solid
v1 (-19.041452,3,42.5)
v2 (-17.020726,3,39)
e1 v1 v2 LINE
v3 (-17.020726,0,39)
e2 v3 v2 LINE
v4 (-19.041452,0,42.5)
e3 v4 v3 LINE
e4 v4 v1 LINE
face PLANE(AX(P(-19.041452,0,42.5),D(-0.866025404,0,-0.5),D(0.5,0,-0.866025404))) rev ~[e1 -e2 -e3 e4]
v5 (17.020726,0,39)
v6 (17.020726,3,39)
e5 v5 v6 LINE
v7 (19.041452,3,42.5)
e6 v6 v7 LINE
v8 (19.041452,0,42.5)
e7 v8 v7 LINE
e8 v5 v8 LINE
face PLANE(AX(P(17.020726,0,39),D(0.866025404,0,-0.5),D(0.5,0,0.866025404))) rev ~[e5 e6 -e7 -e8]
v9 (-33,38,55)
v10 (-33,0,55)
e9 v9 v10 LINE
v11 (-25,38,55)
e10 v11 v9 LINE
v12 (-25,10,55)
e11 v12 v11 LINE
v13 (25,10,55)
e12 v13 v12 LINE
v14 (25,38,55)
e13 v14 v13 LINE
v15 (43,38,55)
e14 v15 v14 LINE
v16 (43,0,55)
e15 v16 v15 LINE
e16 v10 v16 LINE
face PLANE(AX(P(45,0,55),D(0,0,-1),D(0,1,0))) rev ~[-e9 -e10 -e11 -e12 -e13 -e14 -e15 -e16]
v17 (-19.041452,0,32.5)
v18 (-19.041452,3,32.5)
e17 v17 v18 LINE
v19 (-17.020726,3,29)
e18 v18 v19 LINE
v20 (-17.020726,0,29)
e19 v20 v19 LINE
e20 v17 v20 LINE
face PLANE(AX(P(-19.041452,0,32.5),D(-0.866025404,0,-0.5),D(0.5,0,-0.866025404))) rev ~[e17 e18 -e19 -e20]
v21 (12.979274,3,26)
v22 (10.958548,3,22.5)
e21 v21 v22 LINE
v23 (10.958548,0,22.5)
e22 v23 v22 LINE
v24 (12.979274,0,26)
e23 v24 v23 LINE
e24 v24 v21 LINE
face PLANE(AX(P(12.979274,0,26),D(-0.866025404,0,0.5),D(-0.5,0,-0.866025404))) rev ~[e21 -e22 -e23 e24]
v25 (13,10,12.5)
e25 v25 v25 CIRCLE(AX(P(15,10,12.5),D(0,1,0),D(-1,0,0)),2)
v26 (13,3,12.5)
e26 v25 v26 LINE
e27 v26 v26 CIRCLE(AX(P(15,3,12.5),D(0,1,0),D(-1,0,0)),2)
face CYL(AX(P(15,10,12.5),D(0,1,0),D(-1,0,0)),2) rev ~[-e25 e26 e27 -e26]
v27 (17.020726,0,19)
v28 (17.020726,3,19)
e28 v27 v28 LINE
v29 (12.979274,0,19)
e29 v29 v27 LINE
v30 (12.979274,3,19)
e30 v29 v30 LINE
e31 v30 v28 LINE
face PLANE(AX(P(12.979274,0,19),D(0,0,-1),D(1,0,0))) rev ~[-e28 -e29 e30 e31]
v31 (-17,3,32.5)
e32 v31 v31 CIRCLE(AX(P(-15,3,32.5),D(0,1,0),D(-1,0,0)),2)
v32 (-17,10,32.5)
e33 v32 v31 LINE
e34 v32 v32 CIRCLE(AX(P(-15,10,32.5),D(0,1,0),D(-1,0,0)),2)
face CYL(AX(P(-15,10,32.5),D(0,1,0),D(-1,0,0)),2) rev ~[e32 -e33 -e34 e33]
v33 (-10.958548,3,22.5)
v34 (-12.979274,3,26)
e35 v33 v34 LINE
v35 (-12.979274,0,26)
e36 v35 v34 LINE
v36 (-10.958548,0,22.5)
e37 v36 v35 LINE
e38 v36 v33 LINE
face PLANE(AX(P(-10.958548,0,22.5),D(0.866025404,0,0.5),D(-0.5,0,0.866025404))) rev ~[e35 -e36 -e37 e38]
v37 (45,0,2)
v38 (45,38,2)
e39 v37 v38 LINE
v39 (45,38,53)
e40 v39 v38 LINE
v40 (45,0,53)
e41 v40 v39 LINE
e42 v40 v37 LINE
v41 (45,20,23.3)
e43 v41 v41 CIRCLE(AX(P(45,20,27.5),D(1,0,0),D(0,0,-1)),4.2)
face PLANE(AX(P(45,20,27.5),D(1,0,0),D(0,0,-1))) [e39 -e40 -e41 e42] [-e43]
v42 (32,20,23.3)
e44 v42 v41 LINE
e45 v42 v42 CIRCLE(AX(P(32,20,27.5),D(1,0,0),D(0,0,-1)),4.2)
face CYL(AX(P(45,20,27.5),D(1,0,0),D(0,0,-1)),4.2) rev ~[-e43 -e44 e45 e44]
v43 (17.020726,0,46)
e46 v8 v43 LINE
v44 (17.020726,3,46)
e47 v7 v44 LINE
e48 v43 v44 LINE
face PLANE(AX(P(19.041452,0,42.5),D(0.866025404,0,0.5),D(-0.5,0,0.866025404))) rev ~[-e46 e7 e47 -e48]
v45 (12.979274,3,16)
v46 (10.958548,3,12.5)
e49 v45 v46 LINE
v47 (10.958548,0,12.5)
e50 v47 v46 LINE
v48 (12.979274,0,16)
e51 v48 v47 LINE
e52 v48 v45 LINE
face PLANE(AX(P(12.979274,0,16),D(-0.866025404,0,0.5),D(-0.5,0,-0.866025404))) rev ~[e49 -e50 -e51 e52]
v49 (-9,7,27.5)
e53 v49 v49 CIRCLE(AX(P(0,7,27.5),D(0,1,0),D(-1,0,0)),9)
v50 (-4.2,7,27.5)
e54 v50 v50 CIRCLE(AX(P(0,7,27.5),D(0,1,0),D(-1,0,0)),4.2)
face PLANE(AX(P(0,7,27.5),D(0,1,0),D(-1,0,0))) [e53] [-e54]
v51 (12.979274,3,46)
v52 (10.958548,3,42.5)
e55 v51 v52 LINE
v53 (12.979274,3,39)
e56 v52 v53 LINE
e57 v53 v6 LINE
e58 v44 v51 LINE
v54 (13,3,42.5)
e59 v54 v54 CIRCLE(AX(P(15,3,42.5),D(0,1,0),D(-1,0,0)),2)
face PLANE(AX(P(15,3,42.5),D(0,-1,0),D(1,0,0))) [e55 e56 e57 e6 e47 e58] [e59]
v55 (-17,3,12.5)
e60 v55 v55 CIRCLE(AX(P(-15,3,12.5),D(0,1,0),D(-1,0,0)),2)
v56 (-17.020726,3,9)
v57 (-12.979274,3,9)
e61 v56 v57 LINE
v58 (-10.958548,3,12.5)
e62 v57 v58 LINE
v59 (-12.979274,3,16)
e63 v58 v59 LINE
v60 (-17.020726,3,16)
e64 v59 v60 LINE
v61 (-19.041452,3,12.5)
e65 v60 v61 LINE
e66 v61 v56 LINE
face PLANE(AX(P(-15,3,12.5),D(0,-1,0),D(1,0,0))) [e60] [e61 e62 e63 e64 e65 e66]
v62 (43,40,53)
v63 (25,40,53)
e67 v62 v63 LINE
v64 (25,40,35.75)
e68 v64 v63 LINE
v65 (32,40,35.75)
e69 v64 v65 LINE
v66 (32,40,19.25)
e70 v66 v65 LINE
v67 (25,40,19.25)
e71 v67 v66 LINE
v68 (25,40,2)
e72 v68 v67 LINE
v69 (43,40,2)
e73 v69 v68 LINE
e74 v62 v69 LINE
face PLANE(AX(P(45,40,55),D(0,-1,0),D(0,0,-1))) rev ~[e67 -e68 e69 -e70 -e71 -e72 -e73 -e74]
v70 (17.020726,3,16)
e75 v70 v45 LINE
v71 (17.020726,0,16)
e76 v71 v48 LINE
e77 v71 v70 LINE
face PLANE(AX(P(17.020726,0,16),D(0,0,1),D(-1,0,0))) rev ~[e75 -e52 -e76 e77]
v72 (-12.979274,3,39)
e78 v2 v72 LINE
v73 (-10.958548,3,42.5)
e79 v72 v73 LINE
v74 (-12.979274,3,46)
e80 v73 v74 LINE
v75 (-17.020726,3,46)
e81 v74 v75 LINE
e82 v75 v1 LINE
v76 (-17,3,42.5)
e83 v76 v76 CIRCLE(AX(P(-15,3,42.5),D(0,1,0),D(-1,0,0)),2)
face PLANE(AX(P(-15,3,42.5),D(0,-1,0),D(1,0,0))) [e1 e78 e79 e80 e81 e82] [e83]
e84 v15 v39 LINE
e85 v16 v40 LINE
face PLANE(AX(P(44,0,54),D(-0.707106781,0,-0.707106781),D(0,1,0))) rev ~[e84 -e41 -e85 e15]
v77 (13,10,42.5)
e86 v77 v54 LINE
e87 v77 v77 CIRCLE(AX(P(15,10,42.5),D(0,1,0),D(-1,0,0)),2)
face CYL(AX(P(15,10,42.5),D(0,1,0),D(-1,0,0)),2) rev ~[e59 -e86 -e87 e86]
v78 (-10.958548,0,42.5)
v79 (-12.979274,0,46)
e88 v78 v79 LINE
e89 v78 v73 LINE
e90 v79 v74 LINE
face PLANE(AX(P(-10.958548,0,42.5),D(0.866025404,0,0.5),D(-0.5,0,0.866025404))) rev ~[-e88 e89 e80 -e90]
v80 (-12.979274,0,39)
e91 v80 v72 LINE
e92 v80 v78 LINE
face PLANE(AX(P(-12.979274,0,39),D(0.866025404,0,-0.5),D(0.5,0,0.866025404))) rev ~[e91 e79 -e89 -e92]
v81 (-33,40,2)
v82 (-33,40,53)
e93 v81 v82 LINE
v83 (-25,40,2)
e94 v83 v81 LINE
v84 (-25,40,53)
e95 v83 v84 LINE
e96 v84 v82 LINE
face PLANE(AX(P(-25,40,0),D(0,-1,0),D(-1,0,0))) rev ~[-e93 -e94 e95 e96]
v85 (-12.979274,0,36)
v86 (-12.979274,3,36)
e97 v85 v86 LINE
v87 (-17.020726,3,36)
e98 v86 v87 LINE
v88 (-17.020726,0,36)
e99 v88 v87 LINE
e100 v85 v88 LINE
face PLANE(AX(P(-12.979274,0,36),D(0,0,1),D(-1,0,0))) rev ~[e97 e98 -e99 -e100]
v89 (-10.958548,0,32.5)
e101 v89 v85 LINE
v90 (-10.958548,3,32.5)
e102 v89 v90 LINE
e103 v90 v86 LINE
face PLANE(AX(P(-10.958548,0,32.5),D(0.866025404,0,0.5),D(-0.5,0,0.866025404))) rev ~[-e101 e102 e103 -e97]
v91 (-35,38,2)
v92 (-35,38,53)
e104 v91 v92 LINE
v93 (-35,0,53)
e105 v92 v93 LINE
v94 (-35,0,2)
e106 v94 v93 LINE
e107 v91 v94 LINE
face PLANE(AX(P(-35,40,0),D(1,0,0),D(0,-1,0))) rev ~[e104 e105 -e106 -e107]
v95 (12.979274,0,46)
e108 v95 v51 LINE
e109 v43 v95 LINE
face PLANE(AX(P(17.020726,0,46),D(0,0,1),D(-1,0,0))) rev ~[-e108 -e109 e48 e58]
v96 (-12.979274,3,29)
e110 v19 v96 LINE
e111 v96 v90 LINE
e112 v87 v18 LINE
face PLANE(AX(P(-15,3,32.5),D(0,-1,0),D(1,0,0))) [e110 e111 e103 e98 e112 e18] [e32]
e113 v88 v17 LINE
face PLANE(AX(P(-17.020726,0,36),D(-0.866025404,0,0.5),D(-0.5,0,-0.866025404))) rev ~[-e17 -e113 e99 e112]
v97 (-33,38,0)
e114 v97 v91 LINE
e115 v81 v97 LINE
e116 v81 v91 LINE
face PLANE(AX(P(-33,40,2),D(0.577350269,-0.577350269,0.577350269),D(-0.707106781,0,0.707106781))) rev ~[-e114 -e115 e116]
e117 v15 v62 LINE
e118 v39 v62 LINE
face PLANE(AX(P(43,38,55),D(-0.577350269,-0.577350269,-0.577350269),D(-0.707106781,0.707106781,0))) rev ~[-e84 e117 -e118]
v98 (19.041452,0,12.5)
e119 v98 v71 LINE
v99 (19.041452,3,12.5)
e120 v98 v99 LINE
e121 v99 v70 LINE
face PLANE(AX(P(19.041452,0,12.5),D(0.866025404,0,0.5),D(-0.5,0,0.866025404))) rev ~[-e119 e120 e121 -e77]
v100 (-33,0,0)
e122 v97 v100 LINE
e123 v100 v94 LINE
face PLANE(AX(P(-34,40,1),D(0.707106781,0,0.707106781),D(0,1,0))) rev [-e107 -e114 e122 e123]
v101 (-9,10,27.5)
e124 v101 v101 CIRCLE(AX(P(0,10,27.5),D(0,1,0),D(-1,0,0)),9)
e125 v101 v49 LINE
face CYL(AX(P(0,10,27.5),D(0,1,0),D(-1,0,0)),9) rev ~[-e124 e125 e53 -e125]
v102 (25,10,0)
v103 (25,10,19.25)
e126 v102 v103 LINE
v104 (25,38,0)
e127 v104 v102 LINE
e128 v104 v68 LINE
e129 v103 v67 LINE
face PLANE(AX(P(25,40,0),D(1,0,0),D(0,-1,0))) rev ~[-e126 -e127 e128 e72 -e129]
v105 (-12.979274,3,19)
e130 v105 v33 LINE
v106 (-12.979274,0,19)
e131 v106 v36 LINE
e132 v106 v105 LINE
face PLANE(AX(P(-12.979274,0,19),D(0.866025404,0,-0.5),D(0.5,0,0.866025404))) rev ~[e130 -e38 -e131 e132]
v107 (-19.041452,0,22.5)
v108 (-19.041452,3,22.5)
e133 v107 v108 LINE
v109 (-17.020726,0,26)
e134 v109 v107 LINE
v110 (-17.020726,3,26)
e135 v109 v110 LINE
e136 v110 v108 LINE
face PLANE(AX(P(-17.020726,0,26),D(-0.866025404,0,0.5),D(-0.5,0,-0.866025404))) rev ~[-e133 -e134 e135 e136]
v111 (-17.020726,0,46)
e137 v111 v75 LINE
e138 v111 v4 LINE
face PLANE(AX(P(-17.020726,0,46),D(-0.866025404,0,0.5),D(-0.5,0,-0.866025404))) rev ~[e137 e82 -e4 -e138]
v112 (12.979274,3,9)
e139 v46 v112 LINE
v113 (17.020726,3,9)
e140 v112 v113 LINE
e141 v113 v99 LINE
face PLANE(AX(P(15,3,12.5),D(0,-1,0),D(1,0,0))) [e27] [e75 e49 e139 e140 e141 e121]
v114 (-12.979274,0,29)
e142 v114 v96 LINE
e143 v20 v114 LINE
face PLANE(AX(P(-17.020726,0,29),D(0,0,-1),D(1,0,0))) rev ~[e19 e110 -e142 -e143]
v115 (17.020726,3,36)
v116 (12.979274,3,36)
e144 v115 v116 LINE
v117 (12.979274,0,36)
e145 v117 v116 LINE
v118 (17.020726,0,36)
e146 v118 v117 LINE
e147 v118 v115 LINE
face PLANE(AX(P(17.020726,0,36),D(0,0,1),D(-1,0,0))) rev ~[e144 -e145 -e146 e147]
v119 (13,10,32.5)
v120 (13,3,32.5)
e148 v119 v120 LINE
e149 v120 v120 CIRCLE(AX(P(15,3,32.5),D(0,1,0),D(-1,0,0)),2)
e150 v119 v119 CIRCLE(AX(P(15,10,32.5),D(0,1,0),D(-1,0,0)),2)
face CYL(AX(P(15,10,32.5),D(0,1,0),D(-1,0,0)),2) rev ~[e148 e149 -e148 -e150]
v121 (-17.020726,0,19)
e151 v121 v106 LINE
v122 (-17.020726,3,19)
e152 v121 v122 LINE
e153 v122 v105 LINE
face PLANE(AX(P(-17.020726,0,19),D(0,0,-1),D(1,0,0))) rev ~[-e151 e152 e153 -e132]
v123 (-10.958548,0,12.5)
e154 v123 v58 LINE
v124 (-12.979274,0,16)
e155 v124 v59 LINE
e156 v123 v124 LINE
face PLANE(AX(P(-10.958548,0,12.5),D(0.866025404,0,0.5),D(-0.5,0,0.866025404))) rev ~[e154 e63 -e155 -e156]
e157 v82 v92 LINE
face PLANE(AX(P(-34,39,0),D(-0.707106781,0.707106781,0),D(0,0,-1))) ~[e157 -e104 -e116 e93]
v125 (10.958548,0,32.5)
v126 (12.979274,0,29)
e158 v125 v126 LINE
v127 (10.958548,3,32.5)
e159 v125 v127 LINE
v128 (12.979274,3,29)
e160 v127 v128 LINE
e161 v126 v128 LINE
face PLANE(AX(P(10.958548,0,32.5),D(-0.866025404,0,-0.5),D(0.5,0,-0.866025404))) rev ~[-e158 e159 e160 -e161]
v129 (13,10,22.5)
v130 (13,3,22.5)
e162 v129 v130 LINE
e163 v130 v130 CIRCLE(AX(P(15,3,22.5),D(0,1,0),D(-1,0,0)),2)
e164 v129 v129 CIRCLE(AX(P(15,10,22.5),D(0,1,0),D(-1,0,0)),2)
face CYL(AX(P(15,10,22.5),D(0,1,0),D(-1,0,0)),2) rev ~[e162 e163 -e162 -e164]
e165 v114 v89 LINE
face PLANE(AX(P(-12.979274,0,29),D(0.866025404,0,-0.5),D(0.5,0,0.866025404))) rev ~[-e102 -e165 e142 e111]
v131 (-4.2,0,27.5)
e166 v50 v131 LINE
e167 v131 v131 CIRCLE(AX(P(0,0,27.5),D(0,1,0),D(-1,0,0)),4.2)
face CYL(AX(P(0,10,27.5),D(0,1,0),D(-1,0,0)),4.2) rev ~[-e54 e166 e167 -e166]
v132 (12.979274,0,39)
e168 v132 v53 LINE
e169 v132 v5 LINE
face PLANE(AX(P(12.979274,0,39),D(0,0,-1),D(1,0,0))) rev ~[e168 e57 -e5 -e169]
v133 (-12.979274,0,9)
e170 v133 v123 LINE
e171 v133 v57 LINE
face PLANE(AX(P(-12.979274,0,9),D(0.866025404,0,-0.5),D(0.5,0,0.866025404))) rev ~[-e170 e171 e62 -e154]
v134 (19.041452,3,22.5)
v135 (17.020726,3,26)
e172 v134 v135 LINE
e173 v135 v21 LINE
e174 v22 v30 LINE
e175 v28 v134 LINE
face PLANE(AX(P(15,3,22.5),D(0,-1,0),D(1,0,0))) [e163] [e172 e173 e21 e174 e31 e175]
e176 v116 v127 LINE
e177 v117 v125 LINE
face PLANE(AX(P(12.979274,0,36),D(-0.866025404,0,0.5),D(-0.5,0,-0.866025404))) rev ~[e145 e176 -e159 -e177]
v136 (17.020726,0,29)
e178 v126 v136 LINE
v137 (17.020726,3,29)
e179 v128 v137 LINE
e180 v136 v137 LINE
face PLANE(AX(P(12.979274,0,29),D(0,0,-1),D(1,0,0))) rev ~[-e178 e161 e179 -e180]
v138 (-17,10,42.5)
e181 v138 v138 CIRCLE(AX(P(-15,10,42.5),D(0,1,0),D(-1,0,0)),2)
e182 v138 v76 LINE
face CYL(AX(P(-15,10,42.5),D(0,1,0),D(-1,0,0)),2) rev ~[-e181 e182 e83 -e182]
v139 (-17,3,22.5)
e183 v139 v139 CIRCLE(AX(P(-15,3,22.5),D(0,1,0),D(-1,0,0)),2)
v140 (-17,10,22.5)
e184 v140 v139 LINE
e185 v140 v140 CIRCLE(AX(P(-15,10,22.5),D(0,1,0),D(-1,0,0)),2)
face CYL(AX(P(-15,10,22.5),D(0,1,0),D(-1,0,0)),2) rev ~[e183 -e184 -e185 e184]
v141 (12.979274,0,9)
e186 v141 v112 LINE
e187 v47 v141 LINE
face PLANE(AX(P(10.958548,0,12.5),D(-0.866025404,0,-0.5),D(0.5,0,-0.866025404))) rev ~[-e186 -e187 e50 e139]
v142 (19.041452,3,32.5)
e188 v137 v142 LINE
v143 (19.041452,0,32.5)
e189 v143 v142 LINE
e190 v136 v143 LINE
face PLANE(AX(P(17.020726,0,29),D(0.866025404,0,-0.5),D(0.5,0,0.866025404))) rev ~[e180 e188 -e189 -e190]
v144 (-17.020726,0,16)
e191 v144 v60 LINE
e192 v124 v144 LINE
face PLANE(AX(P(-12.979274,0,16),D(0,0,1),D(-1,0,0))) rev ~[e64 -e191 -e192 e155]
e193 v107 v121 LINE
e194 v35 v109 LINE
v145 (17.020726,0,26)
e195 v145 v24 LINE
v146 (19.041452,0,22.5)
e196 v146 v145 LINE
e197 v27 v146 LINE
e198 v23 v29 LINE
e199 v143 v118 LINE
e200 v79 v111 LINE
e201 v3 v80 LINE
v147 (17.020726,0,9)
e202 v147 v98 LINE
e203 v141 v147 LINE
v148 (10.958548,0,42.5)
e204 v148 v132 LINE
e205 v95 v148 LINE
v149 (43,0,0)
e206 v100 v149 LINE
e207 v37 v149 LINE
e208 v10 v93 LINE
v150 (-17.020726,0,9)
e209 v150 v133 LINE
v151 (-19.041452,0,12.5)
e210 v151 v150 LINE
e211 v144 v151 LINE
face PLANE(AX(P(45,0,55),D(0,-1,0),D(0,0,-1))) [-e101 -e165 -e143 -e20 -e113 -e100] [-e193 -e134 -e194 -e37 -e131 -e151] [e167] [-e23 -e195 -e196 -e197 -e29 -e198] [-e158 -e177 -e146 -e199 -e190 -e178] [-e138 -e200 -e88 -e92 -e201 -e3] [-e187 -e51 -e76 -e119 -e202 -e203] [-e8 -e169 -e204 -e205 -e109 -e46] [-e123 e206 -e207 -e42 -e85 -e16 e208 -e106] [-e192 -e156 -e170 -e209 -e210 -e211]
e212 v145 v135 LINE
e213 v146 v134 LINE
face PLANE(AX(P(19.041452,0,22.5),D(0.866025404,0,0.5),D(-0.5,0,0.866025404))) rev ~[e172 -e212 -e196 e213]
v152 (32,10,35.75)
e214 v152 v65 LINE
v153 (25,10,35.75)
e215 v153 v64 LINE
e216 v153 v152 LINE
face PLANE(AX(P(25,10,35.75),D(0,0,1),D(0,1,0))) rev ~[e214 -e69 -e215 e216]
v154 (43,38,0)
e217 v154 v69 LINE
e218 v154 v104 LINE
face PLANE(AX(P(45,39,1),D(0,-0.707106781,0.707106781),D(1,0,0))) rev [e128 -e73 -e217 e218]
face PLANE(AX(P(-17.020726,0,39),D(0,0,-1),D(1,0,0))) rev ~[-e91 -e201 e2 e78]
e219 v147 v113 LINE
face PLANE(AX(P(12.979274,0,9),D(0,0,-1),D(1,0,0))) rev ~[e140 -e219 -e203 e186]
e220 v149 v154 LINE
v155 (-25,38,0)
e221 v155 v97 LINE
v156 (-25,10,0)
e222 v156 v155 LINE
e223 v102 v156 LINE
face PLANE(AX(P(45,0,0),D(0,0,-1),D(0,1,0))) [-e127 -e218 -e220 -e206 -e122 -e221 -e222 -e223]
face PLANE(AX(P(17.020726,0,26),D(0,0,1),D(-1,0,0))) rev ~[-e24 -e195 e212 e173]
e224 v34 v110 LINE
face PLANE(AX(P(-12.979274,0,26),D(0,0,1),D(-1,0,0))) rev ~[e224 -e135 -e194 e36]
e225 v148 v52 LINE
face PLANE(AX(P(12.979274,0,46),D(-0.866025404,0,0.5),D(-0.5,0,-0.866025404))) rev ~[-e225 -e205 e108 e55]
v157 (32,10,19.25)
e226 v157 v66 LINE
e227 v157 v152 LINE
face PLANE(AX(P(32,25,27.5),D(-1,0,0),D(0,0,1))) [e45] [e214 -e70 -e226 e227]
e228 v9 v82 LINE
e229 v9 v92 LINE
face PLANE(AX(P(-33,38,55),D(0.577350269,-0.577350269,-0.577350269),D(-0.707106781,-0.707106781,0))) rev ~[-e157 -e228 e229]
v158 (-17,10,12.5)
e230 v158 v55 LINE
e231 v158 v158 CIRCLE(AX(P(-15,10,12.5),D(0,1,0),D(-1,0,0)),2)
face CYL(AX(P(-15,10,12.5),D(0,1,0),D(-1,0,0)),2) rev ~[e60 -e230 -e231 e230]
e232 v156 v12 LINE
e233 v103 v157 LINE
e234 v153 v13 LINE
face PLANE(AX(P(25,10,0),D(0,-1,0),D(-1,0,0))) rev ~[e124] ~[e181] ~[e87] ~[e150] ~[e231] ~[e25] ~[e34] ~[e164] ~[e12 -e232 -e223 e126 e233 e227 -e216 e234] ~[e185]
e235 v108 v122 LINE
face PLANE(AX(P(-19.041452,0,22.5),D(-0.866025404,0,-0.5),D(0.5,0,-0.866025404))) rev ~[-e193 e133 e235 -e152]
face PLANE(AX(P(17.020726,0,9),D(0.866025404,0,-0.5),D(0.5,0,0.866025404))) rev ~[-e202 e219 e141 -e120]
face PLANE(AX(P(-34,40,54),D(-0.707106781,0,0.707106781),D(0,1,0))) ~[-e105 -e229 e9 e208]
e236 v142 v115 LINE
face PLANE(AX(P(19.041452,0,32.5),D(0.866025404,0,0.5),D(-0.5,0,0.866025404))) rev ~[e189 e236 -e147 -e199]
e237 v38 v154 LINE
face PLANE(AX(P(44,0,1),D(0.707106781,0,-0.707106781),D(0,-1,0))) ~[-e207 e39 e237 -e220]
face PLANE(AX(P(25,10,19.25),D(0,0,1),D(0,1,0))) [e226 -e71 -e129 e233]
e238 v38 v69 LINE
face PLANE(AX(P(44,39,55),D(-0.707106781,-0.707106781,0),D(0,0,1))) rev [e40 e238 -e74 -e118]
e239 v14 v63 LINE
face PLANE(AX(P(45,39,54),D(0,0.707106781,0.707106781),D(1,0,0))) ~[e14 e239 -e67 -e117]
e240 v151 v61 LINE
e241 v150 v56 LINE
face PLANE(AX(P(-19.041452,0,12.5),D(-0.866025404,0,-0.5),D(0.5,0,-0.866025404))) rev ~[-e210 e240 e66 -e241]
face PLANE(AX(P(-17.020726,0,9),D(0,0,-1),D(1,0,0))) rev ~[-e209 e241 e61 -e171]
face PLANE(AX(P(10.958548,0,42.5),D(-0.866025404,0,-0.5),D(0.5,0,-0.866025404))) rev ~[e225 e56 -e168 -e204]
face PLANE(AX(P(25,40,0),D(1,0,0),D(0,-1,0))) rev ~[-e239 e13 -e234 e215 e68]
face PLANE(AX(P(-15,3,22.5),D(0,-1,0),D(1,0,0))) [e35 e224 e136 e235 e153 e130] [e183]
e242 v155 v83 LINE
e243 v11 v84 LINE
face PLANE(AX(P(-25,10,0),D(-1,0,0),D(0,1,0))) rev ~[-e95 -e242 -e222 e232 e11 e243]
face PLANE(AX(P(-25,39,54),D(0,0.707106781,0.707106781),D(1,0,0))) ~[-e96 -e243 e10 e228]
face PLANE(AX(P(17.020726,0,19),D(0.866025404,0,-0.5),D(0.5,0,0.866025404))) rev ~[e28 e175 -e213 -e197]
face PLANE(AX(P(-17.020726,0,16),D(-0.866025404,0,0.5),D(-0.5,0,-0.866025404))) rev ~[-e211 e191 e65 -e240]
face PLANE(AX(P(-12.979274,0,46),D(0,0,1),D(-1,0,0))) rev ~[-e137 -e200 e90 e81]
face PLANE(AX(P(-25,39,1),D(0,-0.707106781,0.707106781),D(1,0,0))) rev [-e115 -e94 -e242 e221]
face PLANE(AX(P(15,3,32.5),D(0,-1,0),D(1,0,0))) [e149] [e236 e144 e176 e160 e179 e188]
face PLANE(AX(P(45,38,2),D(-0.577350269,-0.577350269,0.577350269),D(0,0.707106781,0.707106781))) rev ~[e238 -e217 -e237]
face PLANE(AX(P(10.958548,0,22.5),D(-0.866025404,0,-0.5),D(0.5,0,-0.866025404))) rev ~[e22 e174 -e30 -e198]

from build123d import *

# Parameters (mm, degrees)
BOSS_EXTRUDE1_DEPTH = 55
SKETCH2_R           = 2
CUT_EXTRUDE1_DEPTH  = 72.763500472
CUT_EXTRUDE2_DEPTH  = 3
SKETCH4_R           = 4.2
CUT_EXTRUDE3_DEPTH  = 72.763500472
SKETCH5_R           = 9
CUT_EXTRUDE4_DEPTH  = 3
SKETCH6_R           = 4.2
CUT_EXTRUDE5_DEPTH  = 10
SKETCH7_W           = 16.5
SKETCH7_H           = 30
CUT_EXTRUDE6_DEPTH  = 7
BOSS_EXTRUDE2_START = 10
SKETCH8_W           = 55
SKETCH8_H           = 40
SKETCH8_R           = 4.2
BOSS_EXTRUDE2_DEPTH = 10
CHAMFER1_SIZE       = 2


with BuildPart() as part:
    # Sketch1 → Boss-Extrude1 (new body)
    with BuildSketch(Plane.XY):
        Polygon((0, 0), (35, 0), (35, 40), (25, 40), (25, 10), (0, 10), (-25, 10), (-25, 40), (-35, 40), (-35, 0), align=None)
    extrude(amount=BOSS_EXTRUDE1_DEPTH)

    # Sketch2 → Cut-Extrude1 (cut, through all)
    with BuildSketch(Plane(origin=(0, 10, 0), x_dir=(1, 0, 0), z_dir=(0, 1, 0))):
        with Locations(Location((-15, -12.5, 0), (0, 0, 180))):
            Circle(SKETCH2_R)
        with Locations(Location((-15, -22.5, 0), (0, 0, 180))):
            Circle(SKETCH2_R)
        with Locations(Location((15, -12.5, 0), (0, 0, 180))):
            Circle(SKETCH2_R)
        with Locations(Location((15, -22.5, 0), (0, 0, 180))):
            Circle(SKETCH2_R)
        with Locations(Location((15, -32.5, 0), (0, 0, 180))):
            Circle(SKETCH2_R)
        with Locations(Location((-15, -32.5, 0), (0, 0, 180))):
            Circle(SKETCH2_R)
        with Locations(Location((-15, -42.5, 0), (0, 0, 180))):
            Circle(SKETCH2_R)
        with Locations(Location((15, -42.5, 0), (0, 0, 180))):
            Circle(SKETCH2_R)
    extrude(amount=-CUT_EXTRUDE1_DEPTH, mode=Mode.SUBTRACT)

    # Sketch3 → Cut-Extrude2 (cut)
    with BuildSketch(Plane.XZ):
        Polygon((-10.958548116, 12.5), (-12.979274058, 16), (-17.020725942, 16), (-19.041451884, 12.5), (-17.020725942, 9), (-12.979274058, 9), align=None)
        Polygon((-10.958548116, 22.5), (-12.979274058, 26), (-17.020725942, 26), (-19.041451884, 22.5), (-17.020725942, 19), (-12.979274058, 19), align=None)
        Polygon((-10.958548116, 32.5), (-12.979274058, 36), (-17.020725942, 36), (-19.041451884, 32.5), (-17.020725942, 29), (-12.979274058, 29), align=None)
        Polygon((-10.958548116, 42.5), (-12.979274058, 46), (-17.020725942, 46), (-19.041451884, 42.5), (-17.020725942, 39), (-12.979274058, 39), align=None)
        Polygon((19.041451884, 42.5), (17.020725942, 46), (12.979274058, 46), (10.958548116, 42.5), (12.979274058, 39), (17.020725942, 39), align=None)
        Polygon((19.041451884, 32.5), (17.020725942, 36), (12.979274058, 36), (10.958548116, 32.5), (12.979274058, 29), (17.020725942, 29), align=None)
        Polygon((19.041451884, 22.5), (17.020725942, 26), (12.979274058, 26), (10.958548116, 22.5), (12.979274058, 19), (17.020725942, 19), align=None)
        Polygon((19.041451884, 12.5), (17.020725942, 16), (12.979274058, 16), (10.958548116, 12.5), (12.979274058, 9), (17.020725942, 9), align=None)
    extrude(amount=-CUT_EXTRUDE2_DEPTH, mode=Mode.SUBTRACT)

    # Sketch4 → Cut-Extrude3 (cut, through all)
    with BuildSketch(Plane(origin=(0, 10, 0), x_dir=(1, 0, 0), z_dir=(0, 1, 0))):
        with Locations(Location((0, -27.5, 0), (0, 0, 180))):
            Circle(SKETCH4_R)
    extrude(amount=-CUT_EXTRUDE3_DEPTH, mode=Mode.SUBTRACT)

    # Sketch5 → Cut-Extrude4 (cut)
    with BuildSketch(Plane(origin=(0, 10, 0), x_dir=(1, 0, 0), z_dir=(0, 1, 0))):
        with Locations(Location((0, -27.5, 0), (0, 0, 180))):
            Circle(SKETCH5_R)
    extrude(amount=-CUT_EXTRUDE4_DEPTH, mode=Mode.SUBTRACT)

    # Sketch6 → Cut-Extrude5 (cut)
    with BuildSketch(Plane(origin=(35, 0, 0), x_dir=(0, 0, -1), z_dir=(1, 0, 0))):
        with Locations((-27.5, 20)):
            Circle(SKETCH6_R)
    extrude(amount=-CUT_EXTRUDE5_DEPTH, mode=Mode.SUBTRACT)

    # Sketch7 → Cut-Extrude6 (cut)
    with BuildSketch(Plane.ZY.offset(-25)):
        with Locations((27.5, 25)):
            Rectangle(SKETCH7_W, SKETCH7_H)
    extrude(amount=-CUT_EXTRUDE6_DEPTH, mode=Mode.SUBTRACT)

    # Sketch8 → Boss-Extrude2 (add)
    with BuildSketch(Plane(origin=(35, 0, 0), x_dir=(0, 0, -1), z_dir=(1, 0, 0)).offset(BOSS_EXTRUDE2_START)):
        with Locations((-27.5, 20)):
            Rectangle(SKETCH8_W, SKETCH8_H)
        with Locations((-27.5, 20)):
            Circle(SKETCH8_R, mode=Mode.SUBTRACT)
    extrude(amount=-BOSS_EXTRUDE2_DEPTH)

    # Chamfer1
    chamfer1_edges = [part.edges().sort_by_distance(p)[0] for p in [
        (-35, 20, 0),
        (-30, 40, 0),
        (35, 40, 0),
        (-35, 40, 27.5),
        (45, 20, 0),
        (45, 40, 27.5),
        (45, 20, 55),
        (-30, 40, 55),
        (-35, 20, 55),
        (35, 40, 55),
    ]]
    chamfer(chamfer1_edges, length=CHAMFER1_SIZE)


solid = part.part
